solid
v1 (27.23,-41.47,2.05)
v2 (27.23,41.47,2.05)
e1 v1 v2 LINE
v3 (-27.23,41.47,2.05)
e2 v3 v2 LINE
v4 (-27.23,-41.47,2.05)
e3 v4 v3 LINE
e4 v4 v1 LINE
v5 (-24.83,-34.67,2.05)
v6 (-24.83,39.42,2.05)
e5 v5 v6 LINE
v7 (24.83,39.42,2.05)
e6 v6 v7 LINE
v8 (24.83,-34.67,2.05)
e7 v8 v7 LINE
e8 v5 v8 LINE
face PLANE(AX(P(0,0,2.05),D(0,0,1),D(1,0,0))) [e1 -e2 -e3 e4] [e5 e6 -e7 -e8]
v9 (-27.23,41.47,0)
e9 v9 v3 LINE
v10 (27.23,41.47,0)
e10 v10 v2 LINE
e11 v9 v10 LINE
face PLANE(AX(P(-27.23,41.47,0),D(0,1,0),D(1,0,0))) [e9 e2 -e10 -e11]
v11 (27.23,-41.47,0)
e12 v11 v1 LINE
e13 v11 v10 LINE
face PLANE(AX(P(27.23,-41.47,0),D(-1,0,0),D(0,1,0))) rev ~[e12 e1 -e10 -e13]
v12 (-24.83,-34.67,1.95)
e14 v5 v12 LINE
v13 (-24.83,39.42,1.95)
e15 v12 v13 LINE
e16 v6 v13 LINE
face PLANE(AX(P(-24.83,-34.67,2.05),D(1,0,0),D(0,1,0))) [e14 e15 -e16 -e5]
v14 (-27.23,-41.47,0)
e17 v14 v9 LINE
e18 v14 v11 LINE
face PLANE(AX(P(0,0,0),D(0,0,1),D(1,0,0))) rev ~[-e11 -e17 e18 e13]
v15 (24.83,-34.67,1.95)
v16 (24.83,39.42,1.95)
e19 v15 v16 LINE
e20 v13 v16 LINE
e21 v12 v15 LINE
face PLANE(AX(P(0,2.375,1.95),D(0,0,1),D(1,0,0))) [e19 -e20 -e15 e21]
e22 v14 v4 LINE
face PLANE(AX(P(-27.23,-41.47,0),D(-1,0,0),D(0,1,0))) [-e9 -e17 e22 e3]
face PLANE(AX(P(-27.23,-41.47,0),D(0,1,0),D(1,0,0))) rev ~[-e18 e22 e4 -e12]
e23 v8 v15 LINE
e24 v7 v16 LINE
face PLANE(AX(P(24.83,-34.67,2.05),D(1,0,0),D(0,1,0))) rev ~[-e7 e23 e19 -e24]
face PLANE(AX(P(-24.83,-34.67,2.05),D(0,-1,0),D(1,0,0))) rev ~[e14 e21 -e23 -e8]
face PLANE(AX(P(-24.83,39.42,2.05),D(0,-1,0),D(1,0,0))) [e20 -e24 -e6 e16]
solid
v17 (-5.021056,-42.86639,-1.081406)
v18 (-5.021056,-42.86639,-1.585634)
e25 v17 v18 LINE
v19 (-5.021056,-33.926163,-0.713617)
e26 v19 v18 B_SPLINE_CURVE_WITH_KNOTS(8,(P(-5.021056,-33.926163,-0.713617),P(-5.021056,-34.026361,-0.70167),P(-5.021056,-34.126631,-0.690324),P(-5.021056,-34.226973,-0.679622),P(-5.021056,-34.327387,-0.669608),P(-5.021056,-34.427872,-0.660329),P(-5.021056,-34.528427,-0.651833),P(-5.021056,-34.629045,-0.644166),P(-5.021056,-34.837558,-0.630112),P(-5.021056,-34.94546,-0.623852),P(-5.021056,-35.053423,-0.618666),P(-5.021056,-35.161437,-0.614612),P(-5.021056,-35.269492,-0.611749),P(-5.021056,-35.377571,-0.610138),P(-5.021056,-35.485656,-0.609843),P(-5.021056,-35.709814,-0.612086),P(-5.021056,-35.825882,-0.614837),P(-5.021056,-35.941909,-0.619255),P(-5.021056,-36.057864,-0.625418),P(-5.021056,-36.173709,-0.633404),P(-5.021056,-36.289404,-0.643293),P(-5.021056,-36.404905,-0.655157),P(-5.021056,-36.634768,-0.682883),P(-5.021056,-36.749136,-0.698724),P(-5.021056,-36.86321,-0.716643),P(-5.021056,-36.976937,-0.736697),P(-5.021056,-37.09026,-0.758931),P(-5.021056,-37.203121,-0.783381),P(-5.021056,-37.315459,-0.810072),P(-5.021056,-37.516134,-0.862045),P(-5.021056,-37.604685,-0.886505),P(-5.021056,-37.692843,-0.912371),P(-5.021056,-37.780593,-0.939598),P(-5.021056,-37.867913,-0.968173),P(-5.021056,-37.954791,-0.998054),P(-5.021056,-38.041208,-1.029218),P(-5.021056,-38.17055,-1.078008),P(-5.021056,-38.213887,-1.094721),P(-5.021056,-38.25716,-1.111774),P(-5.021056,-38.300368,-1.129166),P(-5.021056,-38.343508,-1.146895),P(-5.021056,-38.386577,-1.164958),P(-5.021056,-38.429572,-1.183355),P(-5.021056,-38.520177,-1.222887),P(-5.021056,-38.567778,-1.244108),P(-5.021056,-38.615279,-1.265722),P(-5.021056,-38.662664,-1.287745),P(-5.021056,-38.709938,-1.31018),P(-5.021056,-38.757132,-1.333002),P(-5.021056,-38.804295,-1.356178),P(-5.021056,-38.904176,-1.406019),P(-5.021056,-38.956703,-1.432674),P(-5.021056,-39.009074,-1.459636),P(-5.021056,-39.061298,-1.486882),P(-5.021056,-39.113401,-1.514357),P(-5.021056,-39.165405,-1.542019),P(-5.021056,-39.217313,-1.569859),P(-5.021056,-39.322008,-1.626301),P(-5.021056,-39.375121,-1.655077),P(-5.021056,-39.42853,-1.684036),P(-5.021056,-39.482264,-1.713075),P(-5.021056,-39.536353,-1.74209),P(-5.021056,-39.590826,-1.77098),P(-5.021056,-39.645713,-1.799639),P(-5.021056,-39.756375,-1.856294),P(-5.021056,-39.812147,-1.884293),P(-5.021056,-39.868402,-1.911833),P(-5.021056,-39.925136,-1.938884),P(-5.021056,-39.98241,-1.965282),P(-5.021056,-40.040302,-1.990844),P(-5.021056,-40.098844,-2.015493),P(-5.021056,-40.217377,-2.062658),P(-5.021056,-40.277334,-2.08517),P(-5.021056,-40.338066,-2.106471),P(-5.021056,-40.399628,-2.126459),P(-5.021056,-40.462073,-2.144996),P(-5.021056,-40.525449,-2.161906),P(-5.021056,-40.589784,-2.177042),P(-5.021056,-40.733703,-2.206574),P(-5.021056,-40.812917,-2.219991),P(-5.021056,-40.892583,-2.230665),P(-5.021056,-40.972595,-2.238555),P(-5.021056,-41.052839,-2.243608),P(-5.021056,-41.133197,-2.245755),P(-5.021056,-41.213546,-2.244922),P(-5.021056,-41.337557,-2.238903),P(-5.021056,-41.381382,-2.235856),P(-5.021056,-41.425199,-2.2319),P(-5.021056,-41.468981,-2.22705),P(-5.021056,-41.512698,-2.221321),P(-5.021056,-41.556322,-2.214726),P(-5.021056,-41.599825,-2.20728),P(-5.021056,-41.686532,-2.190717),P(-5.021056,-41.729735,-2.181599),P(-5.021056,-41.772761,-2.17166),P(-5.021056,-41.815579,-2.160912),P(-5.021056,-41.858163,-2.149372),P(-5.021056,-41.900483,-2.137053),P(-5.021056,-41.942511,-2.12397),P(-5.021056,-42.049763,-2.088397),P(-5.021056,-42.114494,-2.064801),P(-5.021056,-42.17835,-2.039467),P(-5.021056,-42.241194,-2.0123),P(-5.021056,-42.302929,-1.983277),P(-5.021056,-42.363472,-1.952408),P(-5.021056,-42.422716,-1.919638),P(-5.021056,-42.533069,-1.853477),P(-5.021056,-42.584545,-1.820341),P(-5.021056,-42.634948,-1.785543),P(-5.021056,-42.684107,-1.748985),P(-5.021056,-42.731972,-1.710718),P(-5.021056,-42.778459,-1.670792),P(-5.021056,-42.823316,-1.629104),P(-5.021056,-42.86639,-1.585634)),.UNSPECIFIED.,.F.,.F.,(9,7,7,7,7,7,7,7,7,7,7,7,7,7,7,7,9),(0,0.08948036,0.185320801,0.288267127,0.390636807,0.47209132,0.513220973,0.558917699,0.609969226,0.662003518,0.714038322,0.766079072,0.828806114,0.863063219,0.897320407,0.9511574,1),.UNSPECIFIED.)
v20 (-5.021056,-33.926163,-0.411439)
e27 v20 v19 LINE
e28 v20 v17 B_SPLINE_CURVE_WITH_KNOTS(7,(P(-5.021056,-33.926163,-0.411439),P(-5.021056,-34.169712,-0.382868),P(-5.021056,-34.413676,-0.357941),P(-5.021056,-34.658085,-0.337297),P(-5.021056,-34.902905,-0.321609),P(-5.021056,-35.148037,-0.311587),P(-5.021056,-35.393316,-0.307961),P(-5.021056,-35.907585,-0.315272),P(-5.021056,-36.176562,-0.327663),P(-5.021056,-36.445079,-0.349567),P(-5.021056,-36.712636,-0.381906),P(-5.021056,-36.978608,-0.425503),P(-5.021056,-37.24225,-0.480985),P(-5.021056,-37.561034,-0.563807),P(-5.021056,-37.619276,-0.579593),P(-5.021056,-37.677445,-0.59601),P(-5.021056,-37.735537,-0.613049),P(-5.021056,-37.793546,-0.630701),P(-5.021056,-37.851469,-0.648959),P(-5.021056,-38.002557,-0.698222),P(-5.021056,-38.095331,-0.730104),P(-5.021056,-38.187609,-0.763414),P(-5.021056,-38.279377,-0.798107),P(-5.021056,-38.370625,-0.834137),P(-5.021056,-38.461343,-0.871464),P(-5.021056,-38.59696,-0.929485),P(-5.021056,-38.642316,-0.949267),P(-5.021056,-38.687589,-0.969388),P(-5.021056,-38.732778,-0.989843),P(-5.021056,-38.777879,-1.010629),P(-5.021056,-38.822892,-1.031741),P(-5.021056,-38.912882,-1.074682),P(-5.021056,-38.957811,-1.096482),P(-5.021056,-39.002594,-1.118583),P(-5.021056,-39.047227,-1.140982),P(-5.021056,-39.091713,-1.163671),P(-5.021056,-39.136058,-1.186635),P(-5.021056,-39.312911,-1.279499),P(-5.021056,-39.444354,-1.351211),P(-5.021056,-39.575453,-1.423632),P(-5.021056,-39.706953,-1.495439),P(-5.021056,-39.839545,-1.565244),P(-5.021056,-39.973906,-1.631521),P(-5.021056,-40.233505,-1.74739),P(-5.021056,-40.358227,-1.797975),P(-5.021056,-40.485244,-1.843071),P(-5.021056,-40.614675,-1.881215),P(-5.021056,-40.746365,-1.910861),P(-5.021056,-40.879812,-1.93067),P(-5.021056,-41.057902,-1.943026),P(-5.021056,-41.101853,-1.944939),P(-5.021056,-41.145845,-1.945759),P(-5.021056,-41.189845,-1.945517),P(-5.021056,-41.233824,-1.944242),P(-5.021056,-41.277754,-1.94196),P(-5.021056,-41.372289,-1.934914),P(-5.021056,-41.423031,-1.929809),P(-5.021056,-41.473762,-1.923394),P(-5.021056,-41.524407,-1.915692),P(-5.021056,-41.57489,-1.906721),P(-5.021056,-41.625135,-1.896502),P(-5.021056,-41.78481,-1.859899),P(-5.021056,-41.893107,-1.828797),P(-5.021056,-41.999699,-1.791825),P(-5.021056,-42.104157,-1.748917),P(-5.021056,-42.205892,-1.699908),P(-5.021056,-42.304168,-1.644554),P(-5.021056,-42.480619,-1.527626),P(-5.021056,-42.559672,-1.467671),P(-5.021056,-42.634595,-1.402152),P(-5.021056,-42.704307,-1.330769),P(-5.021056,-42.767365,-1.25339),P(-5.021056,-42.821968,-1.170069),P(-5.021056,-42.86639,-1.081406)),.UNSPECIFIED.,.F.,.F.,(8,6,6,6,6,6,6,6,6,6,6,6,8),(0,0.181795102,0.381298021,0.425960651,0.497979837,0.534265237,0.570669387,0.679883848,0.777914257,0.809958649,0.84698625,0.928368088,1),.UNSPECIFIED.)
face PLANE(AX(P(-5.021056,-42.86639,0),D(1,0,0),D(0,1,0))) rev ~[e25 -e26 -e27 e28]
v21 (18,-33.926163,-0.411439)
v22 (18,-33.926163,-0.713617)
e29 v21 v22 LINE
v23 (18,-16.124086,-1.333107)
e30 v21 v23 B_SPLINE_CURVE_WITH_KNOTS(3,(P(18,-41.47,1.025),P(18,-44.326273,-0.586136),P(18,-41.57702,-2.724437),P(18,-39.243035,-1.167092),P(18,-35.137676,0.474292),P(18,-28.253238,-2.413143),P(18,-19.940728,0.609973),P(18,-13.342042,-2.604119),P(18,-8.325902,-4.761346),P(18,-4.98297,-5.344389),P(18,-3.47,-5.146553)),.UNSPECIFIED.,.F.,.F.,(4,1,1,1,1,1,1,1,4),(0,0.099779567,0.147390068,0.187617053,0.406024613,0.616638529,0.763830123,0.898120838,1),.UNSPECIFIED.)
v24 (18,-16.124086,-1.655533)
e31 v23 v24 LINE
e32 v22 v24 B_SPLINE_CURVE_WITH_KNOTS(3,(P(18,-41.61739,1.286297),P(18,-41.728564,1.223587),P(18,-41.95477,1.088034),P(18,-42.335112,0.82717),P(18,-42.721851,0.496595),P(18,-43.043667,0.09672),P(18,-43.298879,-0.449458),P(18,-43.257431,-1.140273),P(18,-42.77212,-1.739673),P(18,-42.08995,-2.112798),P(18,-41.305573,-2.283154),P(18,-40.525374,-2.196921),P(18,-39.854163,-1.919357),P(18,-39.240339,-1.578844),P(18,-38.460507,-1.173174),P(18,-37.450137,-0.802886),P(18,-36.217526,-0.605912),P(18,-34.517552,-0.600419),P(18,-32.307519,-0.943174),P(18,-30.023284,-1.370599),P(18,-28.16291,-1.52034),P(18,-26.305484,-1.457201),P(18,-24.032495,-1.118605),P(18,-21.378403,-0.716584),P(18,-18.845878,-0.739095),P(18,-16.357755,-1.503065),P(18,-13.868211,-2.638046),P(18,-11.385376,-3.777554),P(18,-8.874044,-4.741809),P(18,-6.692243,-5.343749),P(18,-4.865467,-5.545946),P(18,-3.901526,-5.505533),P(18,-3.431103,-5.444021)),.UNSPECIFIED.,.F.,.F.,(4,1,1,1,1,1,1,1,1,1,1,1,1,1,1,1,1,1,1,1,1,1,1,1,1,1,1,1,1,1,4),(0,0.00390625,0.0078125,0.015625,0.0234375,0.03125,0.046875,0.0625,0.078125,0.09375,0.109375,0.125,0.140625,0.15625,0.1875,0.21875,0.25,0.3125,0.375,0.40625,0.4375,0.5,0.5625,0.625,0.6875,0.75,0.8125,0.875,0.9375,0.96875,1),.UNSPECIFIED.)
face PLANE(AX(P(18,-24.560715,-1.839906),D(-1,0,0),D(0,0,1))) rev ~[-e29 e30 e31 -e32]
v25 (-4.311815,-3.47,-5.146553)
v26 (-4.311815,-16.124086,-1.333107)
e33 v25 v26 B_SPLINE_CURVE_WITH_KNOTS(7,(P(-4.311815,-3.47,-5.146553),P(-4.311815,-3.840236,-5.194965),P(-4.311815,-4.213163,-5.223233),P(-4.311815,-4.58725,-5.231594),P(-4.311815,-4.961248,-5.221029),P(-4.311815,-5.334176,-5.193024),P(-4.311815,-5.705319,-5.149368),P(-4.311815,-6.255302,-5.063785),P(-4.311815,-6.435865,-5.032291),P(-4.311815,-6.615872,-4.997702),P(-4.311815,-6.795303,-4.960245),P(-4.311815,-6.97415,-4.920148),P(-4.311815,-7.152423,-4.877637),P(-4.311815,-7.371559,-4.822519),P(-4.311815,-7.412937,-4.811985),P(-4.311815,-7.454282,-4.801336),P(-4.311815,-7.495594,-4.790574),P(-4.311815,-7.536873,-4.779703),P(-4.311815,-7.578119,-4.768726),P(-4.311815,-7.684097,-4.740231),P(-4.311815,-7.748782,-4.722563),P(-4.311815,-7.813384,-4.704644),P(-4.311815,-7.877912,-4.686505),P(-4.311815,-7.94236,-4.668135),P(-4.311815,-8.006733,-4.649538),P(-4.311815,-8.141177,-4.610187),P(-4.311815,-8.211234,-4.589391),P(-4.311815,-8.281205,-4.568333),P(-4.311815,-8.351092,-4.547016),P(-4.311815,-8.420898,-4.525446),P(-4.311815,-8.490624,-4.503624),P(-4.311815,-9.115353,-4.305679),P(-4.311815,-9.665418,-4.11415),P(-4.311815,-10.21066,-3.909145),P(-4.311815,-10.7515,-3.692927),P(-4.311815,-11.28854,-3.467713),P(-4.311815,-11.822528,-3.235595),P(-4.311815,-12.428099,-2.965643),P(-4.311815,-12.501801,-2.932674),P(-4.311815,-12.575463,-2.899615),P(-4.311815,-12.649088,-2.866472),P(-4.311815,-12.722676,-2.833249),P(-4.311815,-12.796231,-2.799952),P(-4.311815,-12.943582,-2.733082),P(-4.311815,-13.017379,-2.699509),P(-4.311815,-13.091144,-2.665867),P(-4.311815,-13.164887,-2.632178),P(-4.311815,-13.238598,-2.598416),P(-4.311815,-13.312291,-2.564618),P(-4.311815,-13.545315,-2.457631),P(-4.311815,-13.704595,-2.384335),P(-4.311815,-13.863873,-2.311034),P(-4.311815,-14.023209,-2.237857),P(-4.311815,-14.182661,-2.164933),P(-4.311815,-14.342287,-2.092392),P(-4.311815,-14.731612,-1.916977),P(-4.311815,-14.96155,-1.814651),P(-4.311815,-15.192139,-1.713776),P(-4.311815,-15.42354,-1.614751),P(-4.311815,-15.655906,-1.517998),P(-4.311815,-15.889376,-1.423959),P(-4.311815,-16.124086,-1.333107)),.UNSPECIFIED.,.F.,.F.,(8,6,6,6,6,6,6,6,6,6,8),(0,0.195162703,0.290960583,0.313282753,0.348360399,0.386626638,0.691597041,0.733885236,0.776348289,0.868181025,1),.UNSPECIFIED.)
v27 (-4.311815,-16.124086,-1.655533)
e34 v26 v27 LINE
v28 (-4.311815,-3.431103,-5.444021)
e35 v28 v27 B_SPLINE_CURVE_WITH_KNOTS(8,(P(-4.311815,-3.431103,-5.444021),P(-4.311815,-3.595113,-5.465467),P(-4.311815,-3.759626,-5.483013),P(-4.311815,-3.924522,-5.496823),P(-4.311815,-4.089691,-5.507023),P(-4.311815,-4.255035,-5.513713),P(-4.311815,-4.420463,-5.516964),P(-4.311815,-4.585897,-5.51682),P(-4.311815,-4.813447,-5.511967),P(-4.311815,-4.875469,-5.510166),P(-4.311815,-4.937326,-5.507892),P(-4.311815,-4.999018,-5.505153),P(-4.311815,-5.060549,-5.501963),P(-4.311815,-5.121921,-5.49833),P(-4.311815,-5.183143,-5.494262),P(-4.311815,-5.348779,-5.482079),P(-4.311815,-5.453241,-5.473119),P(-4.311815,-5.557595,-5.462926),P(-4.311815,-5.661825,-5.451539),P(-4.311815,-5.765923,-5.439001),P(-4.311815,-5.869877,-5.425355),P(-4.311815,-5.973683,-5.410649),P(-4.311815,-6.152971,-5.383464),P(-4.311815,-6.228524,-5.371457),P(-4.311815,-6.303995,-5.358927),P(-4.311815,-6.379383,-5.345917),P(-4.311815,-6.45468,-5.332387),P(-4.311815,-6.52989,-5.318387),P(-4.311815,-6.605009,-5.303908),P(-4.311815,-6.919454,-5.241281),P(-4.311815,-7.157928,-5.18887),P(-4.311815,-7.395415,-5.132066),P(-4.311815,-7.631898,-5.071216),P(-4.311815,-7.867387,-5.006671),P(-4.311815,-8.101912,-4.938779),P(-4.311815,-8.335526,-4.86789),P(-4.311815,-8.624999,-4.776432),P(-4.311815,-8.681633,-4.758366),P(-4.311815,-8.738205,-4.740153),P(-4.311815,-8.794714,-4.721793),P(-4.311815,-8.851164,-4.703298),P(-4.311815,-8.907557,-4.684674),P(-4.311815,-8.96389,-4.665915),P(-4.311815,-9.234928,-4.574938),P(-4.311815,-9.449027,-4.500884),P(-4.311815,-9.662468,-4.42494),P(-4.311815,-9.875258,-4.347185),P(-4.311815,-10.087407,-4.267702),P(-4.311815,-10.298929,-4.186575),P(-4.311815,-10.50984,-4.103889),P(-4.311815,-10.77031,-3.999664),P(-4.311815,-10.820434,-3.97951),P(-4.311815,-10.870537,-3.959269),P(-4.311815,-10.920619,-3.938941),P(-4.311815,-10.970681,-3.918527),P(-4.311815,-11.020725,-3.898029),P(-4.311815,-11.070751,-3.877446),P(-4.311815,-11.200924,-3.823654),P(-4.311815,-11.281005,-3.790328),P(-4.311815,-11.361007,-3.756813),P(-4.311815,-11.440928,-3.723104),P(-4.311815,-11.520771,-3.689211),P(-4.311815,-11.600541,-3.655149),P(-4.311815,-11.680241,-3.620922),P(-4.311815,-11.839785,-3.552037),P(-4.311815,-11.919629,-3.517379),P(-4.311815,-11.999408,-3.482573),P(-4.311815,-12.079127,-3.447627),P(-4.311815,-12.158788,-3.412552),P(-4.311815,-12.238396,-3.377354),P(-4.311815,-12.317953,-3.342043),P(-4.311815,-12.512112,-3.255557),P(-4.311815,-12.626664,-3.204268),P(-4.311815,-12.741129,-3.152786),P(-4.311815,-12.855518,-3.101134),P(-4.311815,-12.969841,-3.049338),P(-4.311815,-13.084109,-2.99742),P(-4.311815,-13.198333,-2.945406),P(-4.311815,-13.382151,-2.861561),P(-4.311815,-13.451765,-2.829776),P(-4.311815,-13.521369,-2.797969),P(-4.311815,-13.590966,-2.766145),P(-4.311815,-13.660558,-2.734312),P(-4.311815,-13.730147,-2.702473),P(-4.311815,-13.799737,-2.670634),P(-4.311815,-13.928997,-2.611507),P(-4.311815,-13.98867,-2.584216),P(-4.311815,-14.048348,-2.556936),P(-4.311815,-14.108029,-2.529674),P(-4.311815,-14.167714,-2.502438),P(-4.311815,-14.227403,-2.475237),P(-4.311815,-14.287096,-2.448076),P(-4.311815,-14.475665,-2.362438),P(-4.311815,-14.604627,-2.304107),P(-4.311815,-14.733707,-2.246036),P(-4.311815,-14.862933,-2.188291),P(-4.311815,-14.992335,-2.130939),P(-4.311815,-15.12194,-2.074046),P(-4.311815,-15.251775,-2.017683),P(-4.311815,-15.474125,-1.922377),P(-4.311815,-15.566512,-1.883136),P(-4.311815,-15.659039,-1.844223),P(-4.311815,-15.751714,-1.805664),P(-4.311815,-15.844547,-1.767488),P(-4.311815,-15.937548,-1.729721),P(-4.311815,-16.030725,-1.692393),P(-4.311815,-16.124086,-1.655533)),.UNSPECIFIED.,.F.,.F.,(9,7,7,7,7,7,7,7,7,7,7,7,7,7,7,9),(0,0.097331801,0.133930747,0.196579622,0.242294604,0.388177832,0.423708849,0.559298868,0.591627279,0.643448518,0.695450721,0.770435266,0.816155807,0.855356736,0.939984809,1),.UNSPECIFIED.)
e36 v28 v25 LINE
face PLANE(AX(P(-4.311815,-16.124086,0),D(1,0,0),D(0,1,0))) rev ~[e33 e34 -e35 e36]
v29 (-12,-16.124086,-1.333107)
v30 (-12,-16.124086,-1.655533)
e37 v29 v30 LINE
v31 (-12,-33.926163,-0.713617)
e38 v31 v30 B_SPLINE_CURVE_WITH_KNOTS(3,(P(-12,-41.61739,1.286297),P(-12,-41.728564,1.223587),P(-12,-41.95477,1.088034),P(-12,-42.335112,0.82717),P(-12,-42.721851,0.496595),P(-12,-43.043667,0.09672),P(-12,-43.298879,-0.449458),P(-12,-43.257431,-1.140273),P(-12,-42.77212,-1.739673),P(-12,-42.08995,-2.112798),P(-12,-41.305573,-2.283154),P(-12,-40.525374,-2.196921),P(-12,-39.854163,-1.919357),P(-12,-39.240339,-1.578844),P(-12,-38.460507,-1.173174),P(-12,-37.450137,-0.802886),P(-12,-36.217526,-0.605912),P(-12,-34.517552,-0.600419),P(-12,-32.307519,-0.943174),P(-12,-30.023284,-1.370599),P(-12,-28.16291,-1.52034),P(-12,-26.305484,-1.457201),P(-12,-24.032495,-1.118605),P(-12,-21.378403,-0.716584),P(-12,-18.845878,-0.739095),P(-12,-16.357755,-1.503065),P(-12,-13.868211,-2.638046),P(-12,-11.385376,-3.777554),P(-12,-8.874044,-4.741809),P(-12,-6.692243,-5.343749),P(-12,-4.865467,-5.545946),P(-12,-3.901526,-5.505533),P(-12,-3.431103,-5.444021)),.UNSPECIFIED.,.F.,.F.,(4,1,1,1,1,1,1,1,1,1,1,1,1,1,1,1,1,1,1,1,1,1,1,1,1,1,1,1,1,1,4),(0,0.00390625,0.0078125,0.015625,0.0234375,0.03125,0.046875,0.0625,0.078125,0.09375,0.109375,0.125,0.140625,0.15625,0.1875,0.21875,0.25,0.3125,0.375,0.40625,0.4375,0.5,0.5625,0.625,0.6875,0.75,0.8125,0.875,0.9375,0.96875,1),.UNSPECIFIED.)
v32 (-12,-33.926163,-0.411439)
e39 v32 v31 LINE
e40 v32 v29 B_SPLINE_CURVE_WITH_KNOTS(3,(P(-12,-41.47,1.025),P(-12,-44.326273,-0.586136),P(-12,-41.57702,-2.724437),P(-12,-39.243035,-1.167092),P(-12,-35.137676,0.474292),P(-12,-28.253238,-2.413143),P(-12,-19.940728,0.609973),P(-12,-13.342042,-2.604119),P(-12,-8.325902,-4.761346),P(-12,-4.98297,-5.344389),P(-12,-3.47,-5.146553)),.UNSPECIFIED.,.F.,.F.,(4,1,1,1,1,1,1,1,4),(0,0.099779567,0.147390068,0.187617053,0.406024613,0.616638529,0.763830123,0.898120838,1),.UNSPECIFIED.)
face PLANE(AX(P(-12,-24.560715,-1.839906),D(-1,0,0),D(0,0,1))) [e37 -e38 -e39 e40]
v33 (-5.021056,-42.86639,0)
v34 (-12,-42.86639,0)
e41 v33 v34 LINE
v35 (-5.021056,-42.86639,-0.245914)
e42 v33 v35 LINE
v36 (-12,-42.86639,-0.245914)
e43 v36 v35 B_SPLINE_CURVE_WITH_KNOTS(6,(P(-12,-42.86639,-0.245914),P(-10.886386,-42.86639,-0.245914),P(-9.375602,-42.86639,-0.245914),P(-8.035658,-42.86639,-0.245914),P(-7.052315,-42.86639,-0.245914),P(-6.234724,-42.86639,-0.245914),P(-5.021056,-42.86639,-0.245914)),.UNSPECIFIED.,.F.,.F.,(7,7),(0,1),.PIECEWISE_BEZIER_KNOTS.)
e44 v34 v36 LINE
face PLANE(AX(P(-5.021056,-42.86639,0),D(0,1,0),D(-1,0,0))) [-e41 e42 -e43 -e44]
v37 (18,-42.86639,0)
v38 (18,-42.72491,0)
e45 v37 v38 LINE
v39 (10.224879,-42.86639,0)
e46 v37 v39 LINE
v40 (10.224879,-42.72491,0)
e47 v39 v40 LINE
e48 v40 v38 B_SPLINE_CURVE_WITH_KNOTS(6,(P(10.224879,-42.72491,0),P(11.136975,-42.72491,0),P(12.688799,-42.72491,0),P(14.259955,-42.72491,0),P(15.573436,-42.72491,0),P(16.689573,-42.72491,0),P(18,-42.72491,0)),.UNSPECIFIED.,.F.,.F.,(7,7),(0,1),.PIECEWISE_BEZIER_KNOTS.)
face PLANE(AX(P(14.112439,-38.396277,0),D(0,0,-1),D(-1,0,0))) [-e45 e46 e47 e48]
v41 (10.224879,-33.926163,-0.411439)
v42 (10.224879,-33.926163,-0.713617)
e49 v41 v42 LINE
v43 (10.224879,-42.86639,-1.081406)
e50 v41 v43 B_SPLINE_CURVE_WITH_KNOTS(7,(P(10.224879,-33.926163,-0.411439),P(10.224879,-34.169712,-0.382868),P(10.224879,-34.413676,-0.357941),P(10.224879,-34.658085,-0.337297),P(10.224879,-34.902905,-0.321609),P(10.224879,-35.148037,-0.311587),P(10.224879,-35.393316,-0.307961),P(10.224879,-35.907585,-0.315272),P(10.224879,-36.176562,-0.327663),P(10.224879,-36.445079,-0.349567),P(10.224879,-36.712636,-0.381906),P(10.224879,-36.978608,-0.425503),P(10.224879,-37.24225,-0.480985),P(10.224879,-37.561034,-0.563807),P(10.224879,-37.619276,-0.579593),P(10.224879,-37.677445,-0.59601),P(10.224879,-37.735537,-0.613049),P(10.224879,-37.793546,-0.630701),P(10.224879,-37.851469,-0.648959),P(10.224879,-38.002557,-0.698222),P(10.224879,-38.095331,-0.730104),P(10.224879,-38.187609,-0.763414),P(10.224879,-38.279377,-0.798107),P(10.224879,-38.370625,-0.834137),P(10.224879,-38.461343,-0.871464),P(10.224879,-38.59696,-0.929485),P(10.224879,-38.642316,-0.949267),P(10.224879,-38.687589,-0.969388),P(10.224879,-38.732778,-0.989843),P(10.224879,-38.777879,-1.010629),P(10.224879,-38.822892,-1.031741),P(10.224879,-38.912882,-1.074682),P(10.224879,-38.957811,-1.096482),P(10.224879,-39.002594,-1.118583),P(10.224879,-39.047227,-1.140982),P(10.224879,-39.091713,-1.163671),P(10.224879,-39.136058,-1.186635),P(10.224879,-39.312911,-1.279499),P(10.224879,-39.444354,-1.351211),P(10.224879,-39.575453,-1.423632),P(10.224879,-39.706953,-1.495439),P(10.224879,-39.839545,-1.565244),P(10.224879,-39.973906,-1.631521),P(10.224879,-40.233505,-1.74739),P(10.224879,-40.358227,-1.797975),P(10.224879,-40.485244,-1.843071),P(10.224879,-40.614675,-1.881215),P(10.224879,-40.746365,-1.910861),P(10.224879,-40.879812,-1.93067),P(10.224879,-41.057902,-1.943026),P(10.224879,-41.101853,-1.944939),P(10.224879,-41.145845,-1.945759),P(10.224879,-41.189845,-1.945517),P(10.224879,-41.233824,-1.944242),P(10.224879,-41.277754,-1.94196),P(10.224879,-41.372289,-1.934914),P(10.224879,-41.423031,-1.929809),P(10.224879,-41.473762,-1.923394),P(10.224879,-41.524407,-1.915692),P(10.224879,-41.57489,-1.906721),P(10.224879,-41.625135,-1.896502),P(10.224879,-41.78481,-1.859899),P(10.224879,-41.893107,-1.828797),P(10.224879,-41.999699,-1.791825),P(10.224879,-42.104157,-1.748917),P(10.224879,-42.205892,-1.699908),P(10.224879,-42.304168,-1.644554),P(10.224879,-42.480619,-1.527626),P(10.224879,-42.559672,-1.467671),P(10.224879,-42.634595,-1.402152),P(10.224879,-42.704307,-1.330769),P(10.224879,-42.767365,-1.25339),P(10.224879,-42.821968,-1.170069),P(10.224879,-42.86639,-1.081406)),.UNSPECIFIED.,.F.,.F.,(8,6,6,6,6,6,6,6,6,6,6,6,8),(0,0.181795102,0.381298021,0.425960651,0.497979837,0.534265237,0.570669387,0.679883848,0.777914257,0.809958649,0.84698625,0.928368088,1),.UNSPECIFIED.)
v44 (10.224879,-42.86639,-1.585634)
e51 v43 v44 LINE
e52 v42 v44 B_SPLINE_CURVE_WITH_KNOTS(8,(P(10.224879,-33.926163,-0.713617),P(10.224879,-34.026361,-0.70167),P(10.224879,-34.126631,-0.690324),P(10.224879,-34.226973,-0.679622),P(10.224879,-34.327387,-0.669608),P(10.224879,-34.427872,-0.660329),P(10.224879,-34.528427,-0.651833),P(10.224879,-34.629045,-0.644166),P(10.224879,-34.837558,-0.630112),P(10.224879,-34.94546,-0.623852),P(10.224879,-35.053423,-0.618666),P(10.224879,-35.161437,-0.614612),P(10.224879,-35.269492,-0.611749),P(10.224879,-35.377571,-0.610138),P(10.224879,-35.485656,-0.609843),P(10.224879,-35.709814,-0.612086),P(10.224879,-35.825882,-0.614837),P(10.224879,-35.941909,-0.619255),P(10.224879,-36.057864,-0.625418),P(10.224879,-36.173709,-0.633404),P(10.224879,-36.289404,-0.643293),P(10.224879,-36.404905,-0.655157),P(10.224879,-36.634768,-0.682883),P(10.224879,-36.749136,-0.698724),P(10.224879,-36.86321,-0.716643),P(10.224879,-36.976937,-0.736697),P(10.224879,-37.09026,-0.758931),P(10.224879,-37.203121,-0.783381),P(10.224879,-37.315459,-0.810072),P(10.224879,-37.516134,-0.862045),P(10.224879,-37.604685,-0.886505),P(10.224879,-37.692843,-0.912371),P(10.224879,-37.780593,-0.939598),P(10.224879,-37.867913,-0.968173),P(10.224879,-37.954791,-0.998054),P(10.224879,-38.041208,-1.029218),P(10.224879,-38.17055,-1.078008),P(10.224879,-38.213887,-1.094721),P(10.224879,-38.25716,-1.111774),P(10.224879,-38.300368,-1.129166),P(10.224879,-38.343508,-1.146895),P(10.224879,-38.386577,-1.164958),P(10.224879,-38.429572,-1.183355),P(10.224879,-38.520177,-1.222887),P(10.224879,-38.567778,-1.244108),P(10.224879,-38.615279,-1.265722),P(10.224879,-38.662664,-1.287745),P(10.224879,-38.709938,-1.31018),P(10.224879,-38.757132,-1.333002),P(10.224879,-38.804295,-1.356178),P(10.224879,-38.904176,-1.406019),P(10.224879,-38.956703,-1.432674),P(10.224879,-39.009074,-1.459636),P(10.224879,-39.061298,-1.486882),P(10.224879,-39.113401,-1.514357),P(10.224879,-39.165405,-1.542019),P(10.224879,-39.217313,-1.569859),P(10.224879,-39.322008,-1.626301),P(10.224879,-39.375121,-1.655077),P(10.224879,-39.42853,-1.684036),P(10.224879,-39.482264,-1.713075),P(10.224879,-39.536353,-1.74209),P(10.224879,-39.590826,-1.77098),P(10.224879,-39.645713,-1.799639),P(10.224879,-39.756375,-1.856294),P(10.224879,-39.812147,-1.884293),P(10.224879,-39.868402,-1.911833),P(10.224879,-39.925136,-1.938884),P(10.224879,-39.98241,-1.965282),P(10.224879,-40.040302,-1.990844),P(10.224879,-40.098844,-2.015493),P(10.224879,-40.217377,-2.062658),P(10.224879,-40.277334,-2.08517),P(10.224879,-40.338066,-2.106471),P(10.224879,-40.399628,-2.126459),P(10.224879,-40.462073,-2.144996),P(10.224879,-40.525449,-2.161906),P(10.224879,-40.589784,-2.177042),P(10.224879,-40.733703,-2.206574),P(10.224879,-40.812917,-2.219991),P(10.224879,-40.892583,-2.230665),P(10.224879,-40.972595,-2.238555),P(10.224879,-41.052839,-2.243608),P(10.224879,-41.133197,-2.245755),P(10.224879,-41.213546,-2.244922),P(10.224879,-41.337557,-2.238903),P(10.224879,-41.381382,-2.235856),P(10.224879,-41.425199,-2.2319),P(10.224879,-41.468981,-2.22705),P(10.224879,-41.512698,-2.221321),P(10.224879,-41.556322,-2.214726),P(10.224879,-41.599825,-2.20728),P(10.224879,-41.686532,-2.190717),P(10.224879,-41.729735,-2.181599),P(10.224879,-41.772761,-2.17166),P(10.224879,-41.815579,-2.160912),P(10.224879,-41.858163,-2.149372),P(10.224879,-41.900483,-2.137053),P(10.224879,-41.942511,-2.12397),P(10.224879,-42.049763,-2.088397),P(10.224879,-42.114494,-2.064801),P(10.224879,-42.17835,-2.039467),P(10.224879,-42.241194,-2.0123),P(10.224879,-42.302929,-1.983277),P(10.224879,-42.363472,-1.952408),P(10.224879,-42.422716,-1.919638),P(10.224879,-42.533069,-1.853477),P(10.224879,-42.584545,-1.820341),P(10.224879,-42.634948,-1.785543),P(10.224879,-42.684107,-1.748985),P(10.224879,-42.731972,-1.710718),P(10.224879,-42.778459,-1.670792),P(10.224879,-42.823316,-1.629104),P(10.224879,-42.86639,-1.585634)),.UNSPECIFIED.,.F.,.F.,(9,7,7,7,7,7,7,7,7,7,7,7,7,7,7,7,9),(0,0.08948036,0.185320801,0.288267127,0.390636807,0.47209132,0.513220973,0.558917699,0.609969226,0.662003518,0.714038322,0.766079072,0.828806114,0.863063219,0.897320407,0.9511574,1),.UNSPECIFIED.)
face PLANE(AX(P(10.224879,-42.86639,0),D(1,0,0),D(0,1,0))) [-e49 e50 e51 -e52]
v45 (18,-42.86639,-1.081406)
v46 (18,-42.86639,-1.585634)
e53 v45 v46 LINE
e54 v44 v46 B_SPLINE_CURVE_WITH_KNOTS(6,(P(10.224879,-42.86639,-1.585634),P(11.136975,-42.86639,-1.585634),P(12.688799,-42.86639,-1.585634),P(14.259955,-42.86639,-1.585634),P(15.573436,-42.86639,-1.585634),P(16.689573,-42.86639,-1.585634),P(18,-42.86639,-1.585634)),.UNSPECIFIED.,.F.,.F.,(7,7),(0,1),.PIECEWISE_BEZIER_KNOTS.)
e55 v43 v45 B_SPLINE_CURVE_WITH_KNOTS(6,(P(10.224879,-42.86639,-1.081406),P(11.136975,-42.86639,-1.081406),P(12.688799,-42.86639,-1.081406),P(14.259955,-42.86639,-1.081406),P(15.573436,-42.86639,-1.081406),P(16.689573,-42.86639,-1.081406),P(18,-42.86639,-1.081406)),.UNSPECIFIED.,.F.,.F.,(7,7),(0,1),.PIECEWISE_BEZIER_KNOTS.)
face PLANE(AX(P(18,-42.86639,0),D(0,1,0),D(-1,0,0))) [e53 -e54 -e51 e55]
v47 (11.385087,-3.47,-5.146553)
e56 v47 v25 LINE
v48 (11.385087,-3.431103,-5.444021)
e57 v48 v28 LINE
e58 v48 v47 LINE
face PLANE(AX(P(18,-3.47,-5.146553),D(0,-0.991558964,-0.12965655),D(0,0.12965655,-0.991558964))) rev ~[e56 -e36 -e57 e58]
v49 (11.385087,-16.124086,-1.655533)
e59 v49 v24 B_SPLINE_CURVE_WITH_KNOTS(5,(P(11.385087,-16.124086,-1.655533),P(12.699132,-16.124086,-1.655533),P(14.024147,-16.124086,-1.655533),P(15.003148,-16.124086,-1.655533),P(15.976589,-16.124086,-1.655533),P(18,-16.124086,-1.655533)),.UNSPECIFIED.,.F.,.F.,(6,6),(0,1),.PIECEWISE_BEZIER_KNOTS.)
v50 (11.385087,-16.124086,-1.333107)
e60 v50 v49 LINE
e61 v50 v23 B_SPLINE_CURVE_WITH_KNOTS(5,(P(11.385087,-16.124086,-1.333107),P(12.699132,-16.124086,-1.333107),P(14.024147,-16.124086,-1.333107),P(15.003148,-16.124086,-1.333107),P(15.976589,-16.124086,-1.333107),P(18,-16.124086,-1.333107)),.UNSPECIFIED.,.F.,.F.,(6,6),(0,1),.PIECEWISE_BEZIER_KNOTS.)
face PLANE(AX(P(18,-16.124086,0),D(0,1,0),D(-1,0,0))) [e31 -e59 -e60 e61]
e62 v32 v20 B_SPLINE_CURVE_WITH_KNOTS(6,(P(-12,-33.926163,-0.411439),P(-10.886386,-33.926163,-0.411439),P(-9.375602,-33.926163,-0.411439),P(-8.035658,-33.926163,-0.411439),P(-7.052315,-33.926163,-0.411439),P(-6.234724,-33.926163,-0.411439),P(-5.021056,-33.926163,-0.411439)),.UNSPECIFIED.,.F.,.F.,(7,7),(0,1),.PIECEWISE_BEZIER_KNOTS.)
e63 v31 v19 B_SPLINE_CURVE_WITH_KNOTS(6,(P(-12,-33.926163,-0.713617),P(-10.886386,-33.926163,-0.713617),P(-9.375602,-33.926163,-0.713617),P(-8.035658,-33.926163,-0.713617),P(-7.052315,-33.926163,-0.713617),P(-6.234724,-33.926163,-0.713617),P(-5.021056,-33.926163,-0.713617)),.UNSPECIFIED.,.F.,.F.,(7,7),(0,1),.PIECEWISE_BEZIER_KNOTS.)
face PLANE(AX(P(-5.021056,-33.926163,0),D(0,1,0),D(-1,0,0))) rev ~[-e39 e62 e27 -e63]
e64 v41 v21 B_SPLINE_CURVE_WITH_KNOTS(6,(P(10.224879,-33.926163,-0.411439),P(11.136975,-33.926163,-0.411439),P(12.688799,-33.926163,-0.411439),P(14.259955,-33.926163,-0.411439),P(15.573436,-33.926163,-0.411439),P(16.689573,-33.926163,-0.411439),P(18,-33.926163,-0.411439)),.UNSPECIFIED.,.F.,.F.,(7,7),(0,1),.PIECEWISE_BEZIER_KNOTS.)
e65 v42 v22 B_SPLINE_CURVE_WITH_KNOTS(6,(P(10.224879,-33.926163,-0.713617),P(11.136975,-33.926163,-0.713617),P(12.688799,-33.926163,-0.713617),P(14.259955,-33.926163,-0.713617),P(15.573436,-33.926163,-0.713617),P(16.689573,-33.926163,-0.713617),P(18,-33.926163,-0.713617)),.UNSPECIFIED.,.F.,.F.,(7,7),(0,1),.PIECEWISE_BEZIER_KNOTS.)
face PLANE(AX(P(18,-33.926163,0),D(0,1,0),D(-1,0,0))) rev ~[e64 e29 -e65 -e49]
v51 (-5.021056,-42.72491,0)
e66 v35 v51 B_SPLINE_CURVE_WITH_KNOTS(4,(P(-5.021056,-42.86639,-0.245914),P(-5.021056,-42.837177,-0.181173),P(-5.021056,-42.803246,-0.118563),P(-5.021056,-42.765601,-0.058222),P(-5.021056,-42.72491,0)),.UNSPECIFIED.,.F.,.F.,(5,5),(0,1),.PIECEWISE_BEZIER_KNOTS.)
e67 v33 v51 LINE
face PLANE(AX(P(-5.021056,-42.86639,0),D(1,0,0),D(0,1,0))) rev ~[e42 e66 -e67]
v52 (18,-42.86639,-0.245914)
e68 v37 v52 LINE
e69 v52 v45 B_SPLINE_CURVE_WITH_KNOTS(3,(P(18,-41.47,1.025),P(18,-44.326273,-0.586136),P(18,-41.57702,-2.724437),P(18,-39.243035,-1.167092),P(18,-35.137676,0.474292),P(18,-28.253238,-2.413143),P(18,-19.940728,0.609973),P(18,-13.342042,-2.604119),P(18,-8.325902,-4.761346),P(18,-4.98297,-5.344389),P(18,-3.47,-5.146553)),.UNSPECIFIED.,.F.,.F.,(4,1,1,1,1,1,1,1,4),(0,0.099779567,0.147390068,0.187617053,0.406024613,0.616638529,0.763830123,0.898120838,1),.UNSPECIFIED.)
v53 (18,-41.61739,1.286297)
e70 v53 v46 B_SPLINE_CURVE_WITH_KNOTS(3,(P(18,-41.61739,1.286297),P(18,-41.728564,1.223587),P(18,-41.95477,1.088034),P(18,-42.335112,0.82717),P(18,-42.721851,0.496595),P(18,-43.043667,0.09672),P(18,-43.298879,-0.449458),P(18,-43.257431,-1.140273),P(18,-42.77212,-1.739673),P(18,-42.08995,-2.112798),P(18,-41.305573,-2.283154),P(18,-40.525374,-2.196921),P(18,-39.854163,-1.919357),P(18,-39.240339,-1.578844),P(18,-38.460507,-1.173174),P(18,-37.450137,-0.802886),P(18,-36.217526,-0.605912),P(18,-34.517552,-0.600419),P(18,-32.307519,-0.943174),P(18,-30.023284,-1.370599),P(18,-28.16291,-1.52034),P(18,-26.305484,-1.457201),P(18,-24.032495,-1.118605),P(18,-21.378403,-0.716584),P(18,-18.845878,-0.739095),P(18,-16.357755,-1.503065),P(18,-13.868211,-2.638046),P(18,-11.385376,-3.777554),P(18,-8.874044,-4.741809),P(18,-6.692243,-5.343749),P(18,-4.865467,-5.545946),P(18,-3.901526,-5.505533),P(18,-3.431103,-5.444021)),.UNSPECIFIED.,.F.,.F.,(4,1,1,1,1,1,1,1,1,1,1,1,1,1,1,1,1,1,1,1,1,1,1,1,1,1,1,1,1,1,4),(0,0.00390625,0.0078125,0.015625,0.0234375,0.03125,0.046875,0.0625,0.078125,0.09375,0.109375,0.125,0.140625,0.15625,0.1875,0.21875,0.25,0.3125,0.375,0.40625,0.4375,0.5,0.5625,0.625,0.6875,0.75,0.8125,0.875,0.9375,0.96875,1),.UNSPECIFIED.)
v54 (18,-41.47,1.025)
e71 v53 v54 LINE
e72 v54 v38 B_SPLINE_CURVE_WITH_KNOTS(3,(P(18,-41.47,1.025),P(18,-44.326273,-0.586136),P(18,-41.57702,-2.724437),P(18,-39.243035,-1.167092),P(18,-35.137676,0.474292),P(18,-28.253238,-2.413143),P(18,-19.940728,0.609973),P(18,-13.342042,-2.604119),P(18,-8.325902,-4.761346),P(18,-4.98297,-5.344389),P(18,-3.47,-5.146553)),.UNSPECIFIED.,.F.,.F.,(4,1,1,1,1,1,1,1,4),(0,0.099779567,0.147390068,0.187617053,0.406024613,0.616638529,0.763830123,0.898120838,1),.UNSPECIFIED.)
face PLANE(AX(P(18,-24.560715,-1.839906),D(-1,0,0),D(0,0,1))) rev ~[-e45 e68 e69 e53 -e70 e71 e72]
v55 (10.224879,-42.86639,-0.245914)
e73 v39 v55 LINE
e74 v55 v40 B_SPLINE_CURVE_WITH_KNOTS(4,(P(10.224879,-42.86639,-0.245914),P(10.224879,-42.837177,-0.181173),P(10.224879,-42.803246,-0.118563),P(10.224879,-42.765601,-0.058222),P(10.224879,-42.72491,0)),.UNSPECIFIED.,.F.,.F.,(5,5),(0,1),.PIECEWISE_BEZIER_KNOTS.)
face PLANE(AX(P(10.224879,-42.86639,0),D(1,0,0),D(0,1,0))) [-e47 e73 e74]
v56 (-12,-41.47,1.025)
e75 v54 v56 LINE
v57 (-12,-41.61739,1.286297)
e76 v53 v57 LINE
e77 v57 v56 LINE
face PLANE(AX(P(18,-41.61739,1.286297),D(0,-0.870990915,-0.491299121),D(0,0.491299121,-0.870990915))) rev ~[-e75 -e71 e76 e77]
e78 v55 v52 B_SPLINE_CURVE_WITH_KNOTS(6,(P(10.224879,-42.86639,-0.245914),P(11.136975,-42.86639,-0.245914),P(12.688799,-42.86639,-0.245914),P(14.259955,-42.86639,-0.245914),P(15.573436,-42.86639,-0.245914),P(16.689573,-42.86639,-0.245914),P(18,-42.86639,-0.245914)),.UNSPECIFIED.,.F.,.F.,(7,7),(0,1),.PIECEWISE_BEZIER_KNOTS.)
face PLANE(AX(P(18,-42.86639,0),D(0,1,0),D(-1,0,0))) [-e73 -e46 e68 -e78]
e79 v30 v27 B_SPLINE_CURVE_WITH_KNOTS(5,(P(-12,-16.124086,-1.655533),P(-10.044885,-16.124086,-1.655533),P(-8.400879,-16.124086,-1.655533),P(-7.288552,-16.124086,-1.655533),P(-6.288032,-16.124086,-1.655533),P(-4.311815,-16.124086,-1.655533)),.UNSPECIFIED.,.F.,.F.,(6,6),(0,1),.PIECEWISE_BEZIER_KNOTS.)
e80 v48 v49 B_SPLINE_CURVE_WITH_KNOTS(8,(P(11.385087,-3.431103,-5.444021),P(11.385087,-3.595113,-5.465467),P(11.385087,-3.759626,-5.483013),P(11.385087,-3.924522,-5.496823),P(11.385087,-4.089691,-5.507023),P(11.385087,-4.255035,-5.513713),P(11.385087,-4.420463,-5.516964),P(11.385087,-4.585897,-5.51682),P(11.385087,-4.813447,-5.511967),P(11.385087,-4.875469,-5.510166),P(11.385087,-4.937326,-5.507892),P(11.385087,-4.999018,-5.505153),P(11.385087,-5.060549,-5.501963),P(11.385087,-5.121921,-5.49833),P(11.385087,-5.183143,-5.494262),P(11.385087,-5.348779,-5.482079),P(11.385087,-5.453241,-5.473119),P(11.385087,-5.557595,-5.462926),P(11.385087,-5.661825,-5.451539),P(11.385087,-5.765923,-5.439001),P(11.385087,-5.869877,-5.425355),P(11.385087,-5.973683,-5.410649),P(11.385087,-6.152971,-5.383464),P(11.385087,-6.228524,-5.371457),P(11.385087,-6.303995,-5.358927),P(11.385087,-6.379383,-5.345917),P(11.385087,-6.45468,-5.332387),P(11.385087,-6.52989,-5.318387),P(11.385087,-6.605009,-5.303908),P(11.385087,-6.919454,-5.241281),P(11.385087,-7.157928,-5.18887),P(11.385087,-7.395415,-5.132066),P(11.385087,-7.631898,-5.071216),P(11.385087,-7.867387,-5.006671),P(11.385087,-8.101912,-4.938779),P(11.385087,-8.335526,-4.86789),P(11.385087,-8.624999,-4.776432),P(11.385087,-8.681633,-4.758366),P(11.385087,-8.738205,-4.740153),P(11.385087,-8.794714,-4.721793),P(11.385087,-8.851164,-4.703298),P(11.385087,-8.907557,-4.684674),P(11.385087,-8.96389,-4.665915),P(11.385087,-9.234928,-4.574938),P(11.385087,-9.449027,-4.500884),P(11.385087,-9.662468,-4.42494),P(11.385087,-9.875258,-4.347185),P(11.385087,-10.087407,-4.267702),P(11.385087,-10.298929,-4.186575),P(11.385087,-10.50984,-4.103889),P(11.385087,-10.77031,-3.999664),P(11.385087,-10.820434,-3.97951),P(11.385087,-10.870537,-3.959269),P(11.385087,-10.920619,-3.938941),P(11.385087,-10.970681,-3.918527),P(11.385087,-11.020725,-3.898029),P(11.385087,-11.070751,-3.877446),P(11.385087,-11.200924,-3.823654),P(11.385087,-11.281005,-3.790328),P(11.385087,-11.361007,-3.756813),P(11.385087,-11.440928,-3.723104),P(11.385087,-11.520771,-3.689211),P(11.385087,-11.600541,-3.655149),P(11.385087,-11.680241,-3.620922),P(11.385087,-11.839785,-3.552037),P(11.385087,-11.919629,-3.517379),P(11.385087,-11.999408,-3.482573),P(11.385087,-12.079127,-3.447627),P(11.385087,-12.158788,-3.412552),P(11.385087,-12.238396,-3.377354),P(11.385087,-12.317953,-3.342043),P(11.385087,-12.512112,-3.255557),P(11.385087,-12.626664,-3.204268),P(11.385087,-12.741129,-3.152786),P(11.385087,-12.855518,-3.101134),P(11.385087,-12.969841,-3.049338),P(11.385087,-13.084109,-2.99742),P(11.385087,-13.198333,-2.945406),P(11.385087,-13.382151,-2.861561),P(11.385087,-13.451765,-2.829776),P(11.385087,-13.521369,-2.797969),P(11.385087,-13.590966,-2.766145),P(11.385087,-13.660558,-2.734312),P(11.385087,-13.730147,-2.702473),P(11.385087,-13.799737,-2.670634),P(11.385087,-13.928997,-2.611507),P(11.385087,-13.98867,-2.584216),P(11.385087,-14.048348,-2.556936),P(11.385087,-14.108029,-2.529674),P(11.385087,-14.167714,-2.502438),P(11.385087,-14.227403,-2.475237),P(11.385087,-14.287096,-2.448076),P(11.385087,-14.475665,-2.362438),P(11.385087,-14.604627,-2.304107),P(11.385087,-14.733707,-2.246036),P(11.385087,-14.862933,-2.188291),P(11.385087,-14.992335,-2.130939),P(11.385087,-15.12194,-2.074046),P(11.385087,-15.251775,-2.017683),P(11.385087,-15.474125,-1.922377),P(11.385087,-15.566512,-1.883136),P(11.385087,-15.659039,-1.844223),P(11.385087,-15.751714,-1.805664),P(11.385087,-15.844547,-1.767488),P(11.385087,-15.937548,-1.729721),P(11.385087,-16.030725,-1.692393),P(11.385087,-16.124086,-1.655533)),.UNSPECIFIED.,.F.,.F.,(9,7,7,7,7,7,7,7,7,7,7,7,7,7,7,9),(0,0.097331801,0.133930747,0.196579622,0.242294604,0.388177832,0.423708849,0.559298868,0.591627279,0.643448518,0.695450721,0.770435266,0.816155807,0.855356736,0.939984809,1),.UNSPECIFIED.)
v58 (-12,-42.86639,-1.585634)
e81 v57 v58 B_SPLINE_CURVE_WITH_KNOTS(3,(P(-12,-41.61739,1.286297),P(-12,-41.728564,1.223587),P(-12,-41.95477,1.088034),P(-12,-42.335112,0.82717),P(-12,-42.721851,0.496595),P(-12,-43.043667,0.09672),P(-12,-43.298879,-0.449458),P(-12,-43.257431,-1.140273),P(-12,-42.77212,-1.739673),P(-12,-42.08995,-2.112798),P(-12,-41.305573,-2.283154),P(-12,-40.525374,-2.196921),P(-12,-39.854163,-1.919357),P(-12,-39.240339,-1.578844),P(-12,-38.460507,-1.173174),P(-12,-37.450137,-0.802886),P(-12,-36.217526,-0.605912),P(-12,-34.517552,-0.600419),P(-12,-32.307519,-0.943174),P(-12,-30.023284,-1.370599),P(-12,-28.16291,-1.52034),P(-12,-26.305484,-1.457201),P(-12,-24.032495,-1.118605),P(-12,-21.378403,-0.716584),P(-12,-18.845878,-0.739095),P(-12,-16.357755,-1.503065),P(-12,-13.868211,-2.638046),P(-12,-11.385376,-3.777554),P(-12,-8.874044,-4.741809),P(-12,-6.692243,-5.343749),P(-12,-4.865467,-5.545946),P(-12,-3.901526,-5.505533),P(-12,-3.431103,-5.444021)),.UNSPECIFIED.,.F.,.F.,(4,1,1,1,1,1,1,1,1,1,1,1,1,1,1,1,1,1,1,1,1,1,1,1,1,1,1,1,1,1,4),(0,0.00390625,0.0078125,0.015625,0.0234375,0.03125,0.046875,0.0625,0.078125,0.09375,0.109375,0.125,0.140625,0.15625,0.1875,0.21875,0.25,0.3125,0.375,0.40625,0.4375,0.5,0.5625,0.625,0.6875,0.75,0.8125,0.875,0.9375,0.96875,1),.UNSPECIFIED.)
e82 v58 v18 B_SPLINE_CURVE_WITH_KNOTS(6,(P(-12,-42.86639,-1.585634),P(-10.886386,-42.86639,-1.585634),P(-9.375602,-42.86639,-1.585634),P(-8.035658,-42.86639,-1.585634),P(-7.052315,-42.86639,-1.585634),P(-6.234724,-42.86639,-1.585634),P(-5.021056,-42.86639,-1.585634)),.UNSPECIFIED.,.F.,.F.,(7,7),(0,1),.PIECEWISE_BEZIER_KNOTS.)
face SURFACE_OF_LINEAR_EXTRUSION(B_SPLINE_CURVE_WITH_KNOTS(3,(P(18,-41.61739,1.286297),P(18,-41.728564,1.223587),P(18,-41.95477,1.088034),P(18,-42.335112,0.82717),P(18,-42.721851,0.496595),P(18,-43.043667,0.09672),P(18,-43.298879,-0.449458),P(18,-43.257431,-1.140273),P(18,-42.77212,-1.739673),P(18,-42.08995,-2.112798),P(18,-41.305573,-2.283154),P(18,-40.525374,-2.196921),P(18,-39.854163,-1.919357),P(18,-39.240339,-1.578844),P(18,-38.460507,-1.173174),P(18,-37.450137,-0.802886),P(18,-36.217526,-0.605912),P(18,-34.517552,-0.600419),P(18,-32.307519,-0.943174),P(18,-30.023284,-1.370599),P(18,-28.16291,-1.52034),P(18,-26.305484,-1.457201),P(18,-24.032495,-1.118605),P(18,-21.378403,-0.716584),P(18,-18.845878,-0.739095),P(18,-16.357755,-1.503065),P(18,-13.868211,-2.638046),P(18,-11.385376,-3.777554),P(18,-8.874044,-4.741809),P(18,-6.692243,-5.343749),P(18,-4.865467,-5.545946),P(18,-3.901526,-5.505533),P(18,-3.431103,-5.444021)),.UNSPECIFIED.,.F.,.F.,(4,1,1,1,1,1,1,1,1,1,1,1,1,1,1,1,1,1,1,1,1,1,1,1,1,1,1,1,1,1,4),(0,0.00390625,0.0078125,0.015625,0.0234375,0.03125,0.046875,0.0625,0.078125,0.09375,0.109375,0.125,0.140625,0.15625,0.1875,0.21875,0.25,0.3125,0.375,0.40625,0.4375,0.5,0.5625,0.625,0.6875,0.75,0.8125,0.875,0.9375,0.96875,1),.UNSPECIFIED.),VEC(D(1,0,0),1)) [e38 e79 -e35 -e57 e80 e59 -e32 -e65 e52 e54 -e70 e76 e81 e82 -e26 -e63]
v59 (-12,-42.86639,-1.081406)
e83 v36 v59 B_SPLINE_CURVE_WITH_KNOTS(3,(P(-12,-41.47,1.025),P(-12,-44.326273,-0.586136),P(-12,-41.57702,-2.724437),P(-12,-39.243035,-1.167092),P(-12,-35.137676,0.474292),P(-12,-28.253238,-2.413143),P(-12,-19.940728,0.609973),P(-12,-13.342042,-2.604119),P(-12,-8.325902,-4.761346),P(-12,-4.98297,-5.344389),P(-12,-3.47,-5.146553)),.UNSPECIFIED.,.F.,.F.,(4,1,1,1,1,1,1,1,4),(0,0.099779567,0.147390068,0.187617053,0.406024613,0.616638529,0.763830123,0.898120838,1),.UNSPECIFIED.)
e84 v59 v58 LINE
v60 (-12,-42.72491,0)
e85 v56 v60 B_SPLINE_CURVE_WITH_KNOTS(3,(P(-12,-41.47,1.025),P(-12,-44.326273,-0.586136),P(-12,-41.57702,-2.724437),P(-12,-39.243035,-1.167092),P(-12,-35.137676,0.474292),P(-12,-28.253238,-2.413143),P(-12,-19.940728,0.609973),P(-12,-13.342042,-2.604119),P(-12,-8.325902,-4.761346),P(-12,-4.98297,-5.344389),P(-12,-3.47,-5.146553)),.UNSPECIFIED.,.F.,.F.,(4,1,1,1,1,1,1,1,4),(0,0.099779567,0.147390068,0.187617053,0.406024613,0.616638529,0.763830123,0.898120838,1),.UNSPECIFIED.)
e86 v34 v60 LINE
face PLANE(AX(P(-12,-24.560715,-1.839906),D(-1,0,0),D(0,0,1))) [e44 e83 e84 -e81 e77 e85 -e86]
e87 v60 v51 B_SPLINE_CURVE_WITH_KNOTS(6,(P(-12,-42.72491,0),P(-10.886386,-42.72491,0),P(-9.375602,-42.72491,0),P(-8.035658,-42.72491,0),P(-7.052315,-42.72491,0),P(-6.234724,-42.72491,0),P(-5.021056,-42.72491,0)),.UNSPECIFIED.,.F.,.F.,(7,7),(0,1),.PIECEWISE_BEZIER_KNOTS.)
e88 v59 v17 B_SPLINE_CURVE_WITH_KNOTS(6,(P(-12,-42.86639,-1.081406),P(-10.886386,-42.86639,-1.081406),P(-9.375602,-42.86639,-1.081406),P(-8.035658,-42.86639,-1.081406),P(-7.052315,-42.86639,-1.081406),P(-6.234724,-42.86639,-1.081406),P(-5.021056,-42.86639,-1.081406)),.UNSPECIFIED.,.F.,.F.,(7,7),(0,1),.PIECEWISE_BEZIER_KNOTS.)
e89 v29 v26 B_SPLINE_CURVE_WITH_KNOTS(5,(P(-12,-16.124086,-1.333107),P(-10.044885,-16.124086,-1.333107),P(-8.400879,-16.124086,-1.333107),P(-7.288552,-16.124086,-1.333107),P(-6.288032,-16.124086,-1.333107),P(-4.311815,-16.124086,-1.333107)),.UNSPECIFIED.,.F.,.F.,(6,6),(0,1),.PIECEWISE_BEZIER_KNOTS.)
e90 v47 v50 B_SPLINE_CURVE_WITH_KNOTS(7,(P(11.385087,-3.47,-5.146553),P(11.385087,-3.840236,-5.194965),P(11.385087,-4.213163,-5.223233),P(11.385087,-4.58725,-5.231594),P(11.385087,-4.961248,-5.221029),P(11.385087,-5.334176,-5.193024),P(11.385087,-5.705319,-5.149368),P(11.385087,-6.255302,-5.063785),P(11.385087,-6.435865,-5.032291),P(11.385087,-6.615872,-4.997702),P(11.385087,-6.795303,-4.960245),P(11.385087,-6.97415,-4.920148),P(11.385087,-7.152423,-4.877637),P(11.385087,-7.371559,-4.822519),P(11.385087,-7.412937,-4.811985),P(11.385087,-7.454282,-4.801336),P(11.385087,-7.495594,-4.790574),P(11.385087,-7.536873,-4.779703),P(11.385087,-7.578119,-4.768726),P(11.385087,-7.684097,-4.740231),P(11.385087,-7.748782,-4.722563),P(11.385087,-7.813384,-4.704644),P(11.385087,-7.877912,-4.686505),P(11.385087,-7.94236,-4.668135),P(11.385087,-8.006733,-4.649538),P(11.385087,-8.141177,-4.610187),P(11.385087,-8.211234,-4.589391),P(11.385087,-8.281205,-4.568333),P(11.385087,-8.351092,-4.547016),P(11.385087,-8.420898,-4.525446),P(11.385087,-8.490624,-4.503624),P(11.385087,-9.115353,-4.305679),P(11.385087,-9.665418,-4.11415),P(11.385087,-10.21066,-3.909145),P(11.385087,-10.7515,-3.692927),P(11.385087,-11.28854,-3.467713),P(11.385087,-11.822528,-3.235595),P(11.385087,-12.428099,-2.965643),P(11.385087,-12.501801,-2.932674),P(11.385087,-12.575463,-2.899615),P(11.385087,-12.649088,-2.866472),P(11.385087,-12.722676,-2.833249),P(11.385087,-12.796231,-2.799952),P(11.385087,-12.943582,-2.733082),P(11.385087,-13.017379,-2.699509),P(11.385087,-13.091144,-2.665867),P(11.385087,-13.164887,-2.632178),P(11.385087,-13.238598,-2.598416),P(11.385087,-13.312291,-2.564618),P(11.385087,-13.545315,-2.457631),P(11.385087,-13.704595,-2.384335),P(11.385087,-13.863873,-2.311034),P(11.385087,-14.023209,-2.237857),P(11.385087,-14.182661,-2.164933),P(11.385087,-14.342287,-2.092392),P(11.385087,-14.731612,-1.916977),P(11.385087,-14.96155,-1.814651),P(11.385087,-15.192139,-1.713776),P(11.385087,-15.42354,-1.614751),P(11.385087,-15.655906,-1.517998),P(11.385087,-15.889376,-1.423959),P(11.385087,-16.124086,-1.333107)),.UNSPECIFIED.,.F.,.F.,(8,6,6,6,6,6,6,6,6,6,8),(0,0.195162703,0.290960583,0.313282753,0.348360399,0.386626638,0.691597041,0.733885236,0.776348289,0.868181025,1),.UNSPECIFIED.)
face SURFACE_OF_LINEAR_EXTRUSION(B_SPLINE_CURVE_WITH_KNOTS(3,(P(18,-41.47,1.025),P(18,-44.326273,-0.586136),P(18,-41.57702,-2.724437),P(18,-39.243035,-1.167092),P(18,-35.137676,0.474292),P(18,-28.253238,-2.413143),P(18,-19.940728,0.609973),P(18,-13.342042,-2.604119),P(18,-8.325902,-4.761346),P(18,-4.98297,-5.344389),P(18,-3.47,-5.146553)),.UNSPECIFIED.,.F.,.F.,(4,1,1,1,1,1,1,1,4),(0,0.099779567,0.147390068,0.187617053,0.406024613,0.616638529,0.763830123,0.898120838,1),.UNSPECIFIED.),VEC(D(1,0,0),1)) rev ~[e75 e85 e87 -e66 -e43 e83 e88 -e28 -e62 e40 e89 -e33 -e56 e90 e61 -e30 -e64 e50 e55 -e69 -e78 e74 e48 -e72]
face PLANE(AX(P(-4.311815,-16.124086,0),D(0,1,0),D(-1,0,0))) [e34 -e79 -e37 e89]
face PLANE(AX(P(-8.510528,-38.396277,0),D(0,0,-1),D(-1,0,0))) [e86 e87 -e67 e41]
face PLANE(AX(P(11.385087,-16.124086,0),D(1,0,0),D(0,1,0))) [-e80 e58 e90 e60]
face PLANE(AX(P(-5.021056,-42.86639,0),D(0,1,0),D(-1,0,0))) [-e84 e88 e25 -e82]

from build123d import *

# Parameters (mm, degrees)
SKETCH_1_W          = 54.46
SKETCH_1_H          = 82.94
EXTRUDE_1_DEPTH     = 2.05
SKETCH_2_W          = 49.66
SKETCH_2_H          = 74.09
CUT_EXTRUDE_1_DEPTH = 0.1
EXTRUDE_3_DEPTH     = 30
SKETCH_8_W          = 6.614912747
SKETCH_8_H          = 12.711315131
SKETCH_8_W_2        = 7.688185389
SKETCH_8_H_2        = 12.692983113
SKETCH_8_W_3        = 6.978944135
SKETCH_8_H_3        = 8.940227215
SKETCH_8_W_4        = 7.775121352
CUT_EXTRUDE_4_DEPTH = 30


with BuildPart() as part:
    # 草图1 → 凸台-拉伸1 (new body)
    with BuildSketch(Plane.XY):
        Rectangle(SKETCH_1_W, SKETCH_1_H)
    extrude(amount=EXTRUDE_1_DEPTH)

    # 草图2 → 切除-拉伸1 (cut)
    with BuildSketch(Plane.XY.offset(2.05)):
        with Locations((0, 2.375)):
            Rectangle(SKETCH_2_W, SKETCH_2_H)
    extrude(amount=-CUT_EXTRUDE_1_DEPTH, mode=Mode.SUBTRACT)


with BuildPart() as body_2:
    # 草图7 → 凸台-拉伸3 (new body)
    with BuildSketch(Plane(origin=(18, 0, 0), x_dir=(0, 0, -1), z_dir=(1, 0, 0))):
        with BuildLine():
            Line((5.146552874, -3.47), (5.444020563, -3.431103035))
            add(Edge.make_bspline(
                [(-1.286297274, -41.617389736), (-1.223587325, -41.728563955), (-1.088033939, -41.954770225), (-0.827169864, -42.33511155), (-0.496595202, -42.721851198), (-0.096719678, -43.043667166), (0.449458325, -43.298879387), (1.140273171, -43.257430936), (1.739673196, -42.77212046), (2.112797921, -42.08995031), (2.283153908, -41.305573434), (2.196921491, -40.525373684), (1.919357435, -39.854162671), (1.578844311, -39.240339327), (1.173173818, -38.460506981), (0.802886094, -37.450137111), (0.605911538, -36.21752602), (0.60041949, -34.517551684), (0.943173643, -32.30751937), (1.37059894, -30.023283722), (1.520340398, -28.162909769), (1.45720112, -26.305484226), (1.118605039, -24.032494684), (0.716583543, -21.378403338), (0.739095108, -18.845877941), (1.503065232, -16.357755368), (2.638046298, -13.868210623), (3.77755363, -11.385375623), (4.741808939, -8.874044395), (5.343749283, -6.69224251), (5.545946119, -4.86546684), (5.505533179, -3.901525747), (5.444020563, -3.431103035)],
                knots=[0, 0, 0, 0, 0.00390625, 0.0078125, 0.015625, 0.0234375, 0.03125, 0.046875, 0.0625, 0.078125, 0.09375, 0.109375, 0.125, 0.140625, 0.15625, 0.1875, 0.21875, 0.25, 0.3125, 0.375, 0.40625, 0.4375, 0.5, 0.5625, 0.625, 0.6875, 0.75, 0.8125, 0.875, 0.9375, 0.96875, 1, 1, 1, 1], degree=3))
            Line((-1.286297274, -41.617389736), (-1.025, -41.47))
            add(Edge.make_bspline(
                [(-1.025, -41.47), (0.586135687, -44.326273264), (2.724437043, -41.577020469), (1.167092054, -39.243034526), (-0.474291884, -35.137676384), (2.41314287, -28.253237542), (-0.609973253, -19.940727833), (2.604118731, -13.342042381), (4.761345707, -8.325901773), (5.344389343, -4.982970422), (5.146552874, -3.47)],
                knots=[0, 0, 0, 0, 0.099779567, 0.147390068, 0.187617053, 0.406024613, 0.616638529, 0.763830123, 0.898120838, 1, 1, 1, 1], degree=3))
        make_face()
    extrude(amount=-EXTRUDE_3_DEPTH)

    # 草图8 → 切除-拉伸4 (cut)
    with BuildSketch(Plane(origin=(0, 0, 0), x_dir=(-1, 0, 0), z_dir=(0, 0, -1))):
        with Locations((-14.692543627, -9.768428583)):
            Rectangle(SKETCH_8_W, SKETCH_8_H)
        with Locations((8.155907305, -9.777594591)):
            Rectangle(SKETCH_8_W_2, SKETCH_8_H_2)
        with Locations((8.510527933, -38.396276724)):
            Rectangle(SKETCH_8_W_3, SKETCH_8_H_3)
        with Locations((-14.112439324, -38.396276724)):
            Rectangle(SKETCH_8_W_4, SKETCH_8_H_3)
    extrude(amount=CUT_EXTRUDE_4_DEPTH, mode=Mode.SUBTRACT)


solid = Compound([part.part, body_2.part])
